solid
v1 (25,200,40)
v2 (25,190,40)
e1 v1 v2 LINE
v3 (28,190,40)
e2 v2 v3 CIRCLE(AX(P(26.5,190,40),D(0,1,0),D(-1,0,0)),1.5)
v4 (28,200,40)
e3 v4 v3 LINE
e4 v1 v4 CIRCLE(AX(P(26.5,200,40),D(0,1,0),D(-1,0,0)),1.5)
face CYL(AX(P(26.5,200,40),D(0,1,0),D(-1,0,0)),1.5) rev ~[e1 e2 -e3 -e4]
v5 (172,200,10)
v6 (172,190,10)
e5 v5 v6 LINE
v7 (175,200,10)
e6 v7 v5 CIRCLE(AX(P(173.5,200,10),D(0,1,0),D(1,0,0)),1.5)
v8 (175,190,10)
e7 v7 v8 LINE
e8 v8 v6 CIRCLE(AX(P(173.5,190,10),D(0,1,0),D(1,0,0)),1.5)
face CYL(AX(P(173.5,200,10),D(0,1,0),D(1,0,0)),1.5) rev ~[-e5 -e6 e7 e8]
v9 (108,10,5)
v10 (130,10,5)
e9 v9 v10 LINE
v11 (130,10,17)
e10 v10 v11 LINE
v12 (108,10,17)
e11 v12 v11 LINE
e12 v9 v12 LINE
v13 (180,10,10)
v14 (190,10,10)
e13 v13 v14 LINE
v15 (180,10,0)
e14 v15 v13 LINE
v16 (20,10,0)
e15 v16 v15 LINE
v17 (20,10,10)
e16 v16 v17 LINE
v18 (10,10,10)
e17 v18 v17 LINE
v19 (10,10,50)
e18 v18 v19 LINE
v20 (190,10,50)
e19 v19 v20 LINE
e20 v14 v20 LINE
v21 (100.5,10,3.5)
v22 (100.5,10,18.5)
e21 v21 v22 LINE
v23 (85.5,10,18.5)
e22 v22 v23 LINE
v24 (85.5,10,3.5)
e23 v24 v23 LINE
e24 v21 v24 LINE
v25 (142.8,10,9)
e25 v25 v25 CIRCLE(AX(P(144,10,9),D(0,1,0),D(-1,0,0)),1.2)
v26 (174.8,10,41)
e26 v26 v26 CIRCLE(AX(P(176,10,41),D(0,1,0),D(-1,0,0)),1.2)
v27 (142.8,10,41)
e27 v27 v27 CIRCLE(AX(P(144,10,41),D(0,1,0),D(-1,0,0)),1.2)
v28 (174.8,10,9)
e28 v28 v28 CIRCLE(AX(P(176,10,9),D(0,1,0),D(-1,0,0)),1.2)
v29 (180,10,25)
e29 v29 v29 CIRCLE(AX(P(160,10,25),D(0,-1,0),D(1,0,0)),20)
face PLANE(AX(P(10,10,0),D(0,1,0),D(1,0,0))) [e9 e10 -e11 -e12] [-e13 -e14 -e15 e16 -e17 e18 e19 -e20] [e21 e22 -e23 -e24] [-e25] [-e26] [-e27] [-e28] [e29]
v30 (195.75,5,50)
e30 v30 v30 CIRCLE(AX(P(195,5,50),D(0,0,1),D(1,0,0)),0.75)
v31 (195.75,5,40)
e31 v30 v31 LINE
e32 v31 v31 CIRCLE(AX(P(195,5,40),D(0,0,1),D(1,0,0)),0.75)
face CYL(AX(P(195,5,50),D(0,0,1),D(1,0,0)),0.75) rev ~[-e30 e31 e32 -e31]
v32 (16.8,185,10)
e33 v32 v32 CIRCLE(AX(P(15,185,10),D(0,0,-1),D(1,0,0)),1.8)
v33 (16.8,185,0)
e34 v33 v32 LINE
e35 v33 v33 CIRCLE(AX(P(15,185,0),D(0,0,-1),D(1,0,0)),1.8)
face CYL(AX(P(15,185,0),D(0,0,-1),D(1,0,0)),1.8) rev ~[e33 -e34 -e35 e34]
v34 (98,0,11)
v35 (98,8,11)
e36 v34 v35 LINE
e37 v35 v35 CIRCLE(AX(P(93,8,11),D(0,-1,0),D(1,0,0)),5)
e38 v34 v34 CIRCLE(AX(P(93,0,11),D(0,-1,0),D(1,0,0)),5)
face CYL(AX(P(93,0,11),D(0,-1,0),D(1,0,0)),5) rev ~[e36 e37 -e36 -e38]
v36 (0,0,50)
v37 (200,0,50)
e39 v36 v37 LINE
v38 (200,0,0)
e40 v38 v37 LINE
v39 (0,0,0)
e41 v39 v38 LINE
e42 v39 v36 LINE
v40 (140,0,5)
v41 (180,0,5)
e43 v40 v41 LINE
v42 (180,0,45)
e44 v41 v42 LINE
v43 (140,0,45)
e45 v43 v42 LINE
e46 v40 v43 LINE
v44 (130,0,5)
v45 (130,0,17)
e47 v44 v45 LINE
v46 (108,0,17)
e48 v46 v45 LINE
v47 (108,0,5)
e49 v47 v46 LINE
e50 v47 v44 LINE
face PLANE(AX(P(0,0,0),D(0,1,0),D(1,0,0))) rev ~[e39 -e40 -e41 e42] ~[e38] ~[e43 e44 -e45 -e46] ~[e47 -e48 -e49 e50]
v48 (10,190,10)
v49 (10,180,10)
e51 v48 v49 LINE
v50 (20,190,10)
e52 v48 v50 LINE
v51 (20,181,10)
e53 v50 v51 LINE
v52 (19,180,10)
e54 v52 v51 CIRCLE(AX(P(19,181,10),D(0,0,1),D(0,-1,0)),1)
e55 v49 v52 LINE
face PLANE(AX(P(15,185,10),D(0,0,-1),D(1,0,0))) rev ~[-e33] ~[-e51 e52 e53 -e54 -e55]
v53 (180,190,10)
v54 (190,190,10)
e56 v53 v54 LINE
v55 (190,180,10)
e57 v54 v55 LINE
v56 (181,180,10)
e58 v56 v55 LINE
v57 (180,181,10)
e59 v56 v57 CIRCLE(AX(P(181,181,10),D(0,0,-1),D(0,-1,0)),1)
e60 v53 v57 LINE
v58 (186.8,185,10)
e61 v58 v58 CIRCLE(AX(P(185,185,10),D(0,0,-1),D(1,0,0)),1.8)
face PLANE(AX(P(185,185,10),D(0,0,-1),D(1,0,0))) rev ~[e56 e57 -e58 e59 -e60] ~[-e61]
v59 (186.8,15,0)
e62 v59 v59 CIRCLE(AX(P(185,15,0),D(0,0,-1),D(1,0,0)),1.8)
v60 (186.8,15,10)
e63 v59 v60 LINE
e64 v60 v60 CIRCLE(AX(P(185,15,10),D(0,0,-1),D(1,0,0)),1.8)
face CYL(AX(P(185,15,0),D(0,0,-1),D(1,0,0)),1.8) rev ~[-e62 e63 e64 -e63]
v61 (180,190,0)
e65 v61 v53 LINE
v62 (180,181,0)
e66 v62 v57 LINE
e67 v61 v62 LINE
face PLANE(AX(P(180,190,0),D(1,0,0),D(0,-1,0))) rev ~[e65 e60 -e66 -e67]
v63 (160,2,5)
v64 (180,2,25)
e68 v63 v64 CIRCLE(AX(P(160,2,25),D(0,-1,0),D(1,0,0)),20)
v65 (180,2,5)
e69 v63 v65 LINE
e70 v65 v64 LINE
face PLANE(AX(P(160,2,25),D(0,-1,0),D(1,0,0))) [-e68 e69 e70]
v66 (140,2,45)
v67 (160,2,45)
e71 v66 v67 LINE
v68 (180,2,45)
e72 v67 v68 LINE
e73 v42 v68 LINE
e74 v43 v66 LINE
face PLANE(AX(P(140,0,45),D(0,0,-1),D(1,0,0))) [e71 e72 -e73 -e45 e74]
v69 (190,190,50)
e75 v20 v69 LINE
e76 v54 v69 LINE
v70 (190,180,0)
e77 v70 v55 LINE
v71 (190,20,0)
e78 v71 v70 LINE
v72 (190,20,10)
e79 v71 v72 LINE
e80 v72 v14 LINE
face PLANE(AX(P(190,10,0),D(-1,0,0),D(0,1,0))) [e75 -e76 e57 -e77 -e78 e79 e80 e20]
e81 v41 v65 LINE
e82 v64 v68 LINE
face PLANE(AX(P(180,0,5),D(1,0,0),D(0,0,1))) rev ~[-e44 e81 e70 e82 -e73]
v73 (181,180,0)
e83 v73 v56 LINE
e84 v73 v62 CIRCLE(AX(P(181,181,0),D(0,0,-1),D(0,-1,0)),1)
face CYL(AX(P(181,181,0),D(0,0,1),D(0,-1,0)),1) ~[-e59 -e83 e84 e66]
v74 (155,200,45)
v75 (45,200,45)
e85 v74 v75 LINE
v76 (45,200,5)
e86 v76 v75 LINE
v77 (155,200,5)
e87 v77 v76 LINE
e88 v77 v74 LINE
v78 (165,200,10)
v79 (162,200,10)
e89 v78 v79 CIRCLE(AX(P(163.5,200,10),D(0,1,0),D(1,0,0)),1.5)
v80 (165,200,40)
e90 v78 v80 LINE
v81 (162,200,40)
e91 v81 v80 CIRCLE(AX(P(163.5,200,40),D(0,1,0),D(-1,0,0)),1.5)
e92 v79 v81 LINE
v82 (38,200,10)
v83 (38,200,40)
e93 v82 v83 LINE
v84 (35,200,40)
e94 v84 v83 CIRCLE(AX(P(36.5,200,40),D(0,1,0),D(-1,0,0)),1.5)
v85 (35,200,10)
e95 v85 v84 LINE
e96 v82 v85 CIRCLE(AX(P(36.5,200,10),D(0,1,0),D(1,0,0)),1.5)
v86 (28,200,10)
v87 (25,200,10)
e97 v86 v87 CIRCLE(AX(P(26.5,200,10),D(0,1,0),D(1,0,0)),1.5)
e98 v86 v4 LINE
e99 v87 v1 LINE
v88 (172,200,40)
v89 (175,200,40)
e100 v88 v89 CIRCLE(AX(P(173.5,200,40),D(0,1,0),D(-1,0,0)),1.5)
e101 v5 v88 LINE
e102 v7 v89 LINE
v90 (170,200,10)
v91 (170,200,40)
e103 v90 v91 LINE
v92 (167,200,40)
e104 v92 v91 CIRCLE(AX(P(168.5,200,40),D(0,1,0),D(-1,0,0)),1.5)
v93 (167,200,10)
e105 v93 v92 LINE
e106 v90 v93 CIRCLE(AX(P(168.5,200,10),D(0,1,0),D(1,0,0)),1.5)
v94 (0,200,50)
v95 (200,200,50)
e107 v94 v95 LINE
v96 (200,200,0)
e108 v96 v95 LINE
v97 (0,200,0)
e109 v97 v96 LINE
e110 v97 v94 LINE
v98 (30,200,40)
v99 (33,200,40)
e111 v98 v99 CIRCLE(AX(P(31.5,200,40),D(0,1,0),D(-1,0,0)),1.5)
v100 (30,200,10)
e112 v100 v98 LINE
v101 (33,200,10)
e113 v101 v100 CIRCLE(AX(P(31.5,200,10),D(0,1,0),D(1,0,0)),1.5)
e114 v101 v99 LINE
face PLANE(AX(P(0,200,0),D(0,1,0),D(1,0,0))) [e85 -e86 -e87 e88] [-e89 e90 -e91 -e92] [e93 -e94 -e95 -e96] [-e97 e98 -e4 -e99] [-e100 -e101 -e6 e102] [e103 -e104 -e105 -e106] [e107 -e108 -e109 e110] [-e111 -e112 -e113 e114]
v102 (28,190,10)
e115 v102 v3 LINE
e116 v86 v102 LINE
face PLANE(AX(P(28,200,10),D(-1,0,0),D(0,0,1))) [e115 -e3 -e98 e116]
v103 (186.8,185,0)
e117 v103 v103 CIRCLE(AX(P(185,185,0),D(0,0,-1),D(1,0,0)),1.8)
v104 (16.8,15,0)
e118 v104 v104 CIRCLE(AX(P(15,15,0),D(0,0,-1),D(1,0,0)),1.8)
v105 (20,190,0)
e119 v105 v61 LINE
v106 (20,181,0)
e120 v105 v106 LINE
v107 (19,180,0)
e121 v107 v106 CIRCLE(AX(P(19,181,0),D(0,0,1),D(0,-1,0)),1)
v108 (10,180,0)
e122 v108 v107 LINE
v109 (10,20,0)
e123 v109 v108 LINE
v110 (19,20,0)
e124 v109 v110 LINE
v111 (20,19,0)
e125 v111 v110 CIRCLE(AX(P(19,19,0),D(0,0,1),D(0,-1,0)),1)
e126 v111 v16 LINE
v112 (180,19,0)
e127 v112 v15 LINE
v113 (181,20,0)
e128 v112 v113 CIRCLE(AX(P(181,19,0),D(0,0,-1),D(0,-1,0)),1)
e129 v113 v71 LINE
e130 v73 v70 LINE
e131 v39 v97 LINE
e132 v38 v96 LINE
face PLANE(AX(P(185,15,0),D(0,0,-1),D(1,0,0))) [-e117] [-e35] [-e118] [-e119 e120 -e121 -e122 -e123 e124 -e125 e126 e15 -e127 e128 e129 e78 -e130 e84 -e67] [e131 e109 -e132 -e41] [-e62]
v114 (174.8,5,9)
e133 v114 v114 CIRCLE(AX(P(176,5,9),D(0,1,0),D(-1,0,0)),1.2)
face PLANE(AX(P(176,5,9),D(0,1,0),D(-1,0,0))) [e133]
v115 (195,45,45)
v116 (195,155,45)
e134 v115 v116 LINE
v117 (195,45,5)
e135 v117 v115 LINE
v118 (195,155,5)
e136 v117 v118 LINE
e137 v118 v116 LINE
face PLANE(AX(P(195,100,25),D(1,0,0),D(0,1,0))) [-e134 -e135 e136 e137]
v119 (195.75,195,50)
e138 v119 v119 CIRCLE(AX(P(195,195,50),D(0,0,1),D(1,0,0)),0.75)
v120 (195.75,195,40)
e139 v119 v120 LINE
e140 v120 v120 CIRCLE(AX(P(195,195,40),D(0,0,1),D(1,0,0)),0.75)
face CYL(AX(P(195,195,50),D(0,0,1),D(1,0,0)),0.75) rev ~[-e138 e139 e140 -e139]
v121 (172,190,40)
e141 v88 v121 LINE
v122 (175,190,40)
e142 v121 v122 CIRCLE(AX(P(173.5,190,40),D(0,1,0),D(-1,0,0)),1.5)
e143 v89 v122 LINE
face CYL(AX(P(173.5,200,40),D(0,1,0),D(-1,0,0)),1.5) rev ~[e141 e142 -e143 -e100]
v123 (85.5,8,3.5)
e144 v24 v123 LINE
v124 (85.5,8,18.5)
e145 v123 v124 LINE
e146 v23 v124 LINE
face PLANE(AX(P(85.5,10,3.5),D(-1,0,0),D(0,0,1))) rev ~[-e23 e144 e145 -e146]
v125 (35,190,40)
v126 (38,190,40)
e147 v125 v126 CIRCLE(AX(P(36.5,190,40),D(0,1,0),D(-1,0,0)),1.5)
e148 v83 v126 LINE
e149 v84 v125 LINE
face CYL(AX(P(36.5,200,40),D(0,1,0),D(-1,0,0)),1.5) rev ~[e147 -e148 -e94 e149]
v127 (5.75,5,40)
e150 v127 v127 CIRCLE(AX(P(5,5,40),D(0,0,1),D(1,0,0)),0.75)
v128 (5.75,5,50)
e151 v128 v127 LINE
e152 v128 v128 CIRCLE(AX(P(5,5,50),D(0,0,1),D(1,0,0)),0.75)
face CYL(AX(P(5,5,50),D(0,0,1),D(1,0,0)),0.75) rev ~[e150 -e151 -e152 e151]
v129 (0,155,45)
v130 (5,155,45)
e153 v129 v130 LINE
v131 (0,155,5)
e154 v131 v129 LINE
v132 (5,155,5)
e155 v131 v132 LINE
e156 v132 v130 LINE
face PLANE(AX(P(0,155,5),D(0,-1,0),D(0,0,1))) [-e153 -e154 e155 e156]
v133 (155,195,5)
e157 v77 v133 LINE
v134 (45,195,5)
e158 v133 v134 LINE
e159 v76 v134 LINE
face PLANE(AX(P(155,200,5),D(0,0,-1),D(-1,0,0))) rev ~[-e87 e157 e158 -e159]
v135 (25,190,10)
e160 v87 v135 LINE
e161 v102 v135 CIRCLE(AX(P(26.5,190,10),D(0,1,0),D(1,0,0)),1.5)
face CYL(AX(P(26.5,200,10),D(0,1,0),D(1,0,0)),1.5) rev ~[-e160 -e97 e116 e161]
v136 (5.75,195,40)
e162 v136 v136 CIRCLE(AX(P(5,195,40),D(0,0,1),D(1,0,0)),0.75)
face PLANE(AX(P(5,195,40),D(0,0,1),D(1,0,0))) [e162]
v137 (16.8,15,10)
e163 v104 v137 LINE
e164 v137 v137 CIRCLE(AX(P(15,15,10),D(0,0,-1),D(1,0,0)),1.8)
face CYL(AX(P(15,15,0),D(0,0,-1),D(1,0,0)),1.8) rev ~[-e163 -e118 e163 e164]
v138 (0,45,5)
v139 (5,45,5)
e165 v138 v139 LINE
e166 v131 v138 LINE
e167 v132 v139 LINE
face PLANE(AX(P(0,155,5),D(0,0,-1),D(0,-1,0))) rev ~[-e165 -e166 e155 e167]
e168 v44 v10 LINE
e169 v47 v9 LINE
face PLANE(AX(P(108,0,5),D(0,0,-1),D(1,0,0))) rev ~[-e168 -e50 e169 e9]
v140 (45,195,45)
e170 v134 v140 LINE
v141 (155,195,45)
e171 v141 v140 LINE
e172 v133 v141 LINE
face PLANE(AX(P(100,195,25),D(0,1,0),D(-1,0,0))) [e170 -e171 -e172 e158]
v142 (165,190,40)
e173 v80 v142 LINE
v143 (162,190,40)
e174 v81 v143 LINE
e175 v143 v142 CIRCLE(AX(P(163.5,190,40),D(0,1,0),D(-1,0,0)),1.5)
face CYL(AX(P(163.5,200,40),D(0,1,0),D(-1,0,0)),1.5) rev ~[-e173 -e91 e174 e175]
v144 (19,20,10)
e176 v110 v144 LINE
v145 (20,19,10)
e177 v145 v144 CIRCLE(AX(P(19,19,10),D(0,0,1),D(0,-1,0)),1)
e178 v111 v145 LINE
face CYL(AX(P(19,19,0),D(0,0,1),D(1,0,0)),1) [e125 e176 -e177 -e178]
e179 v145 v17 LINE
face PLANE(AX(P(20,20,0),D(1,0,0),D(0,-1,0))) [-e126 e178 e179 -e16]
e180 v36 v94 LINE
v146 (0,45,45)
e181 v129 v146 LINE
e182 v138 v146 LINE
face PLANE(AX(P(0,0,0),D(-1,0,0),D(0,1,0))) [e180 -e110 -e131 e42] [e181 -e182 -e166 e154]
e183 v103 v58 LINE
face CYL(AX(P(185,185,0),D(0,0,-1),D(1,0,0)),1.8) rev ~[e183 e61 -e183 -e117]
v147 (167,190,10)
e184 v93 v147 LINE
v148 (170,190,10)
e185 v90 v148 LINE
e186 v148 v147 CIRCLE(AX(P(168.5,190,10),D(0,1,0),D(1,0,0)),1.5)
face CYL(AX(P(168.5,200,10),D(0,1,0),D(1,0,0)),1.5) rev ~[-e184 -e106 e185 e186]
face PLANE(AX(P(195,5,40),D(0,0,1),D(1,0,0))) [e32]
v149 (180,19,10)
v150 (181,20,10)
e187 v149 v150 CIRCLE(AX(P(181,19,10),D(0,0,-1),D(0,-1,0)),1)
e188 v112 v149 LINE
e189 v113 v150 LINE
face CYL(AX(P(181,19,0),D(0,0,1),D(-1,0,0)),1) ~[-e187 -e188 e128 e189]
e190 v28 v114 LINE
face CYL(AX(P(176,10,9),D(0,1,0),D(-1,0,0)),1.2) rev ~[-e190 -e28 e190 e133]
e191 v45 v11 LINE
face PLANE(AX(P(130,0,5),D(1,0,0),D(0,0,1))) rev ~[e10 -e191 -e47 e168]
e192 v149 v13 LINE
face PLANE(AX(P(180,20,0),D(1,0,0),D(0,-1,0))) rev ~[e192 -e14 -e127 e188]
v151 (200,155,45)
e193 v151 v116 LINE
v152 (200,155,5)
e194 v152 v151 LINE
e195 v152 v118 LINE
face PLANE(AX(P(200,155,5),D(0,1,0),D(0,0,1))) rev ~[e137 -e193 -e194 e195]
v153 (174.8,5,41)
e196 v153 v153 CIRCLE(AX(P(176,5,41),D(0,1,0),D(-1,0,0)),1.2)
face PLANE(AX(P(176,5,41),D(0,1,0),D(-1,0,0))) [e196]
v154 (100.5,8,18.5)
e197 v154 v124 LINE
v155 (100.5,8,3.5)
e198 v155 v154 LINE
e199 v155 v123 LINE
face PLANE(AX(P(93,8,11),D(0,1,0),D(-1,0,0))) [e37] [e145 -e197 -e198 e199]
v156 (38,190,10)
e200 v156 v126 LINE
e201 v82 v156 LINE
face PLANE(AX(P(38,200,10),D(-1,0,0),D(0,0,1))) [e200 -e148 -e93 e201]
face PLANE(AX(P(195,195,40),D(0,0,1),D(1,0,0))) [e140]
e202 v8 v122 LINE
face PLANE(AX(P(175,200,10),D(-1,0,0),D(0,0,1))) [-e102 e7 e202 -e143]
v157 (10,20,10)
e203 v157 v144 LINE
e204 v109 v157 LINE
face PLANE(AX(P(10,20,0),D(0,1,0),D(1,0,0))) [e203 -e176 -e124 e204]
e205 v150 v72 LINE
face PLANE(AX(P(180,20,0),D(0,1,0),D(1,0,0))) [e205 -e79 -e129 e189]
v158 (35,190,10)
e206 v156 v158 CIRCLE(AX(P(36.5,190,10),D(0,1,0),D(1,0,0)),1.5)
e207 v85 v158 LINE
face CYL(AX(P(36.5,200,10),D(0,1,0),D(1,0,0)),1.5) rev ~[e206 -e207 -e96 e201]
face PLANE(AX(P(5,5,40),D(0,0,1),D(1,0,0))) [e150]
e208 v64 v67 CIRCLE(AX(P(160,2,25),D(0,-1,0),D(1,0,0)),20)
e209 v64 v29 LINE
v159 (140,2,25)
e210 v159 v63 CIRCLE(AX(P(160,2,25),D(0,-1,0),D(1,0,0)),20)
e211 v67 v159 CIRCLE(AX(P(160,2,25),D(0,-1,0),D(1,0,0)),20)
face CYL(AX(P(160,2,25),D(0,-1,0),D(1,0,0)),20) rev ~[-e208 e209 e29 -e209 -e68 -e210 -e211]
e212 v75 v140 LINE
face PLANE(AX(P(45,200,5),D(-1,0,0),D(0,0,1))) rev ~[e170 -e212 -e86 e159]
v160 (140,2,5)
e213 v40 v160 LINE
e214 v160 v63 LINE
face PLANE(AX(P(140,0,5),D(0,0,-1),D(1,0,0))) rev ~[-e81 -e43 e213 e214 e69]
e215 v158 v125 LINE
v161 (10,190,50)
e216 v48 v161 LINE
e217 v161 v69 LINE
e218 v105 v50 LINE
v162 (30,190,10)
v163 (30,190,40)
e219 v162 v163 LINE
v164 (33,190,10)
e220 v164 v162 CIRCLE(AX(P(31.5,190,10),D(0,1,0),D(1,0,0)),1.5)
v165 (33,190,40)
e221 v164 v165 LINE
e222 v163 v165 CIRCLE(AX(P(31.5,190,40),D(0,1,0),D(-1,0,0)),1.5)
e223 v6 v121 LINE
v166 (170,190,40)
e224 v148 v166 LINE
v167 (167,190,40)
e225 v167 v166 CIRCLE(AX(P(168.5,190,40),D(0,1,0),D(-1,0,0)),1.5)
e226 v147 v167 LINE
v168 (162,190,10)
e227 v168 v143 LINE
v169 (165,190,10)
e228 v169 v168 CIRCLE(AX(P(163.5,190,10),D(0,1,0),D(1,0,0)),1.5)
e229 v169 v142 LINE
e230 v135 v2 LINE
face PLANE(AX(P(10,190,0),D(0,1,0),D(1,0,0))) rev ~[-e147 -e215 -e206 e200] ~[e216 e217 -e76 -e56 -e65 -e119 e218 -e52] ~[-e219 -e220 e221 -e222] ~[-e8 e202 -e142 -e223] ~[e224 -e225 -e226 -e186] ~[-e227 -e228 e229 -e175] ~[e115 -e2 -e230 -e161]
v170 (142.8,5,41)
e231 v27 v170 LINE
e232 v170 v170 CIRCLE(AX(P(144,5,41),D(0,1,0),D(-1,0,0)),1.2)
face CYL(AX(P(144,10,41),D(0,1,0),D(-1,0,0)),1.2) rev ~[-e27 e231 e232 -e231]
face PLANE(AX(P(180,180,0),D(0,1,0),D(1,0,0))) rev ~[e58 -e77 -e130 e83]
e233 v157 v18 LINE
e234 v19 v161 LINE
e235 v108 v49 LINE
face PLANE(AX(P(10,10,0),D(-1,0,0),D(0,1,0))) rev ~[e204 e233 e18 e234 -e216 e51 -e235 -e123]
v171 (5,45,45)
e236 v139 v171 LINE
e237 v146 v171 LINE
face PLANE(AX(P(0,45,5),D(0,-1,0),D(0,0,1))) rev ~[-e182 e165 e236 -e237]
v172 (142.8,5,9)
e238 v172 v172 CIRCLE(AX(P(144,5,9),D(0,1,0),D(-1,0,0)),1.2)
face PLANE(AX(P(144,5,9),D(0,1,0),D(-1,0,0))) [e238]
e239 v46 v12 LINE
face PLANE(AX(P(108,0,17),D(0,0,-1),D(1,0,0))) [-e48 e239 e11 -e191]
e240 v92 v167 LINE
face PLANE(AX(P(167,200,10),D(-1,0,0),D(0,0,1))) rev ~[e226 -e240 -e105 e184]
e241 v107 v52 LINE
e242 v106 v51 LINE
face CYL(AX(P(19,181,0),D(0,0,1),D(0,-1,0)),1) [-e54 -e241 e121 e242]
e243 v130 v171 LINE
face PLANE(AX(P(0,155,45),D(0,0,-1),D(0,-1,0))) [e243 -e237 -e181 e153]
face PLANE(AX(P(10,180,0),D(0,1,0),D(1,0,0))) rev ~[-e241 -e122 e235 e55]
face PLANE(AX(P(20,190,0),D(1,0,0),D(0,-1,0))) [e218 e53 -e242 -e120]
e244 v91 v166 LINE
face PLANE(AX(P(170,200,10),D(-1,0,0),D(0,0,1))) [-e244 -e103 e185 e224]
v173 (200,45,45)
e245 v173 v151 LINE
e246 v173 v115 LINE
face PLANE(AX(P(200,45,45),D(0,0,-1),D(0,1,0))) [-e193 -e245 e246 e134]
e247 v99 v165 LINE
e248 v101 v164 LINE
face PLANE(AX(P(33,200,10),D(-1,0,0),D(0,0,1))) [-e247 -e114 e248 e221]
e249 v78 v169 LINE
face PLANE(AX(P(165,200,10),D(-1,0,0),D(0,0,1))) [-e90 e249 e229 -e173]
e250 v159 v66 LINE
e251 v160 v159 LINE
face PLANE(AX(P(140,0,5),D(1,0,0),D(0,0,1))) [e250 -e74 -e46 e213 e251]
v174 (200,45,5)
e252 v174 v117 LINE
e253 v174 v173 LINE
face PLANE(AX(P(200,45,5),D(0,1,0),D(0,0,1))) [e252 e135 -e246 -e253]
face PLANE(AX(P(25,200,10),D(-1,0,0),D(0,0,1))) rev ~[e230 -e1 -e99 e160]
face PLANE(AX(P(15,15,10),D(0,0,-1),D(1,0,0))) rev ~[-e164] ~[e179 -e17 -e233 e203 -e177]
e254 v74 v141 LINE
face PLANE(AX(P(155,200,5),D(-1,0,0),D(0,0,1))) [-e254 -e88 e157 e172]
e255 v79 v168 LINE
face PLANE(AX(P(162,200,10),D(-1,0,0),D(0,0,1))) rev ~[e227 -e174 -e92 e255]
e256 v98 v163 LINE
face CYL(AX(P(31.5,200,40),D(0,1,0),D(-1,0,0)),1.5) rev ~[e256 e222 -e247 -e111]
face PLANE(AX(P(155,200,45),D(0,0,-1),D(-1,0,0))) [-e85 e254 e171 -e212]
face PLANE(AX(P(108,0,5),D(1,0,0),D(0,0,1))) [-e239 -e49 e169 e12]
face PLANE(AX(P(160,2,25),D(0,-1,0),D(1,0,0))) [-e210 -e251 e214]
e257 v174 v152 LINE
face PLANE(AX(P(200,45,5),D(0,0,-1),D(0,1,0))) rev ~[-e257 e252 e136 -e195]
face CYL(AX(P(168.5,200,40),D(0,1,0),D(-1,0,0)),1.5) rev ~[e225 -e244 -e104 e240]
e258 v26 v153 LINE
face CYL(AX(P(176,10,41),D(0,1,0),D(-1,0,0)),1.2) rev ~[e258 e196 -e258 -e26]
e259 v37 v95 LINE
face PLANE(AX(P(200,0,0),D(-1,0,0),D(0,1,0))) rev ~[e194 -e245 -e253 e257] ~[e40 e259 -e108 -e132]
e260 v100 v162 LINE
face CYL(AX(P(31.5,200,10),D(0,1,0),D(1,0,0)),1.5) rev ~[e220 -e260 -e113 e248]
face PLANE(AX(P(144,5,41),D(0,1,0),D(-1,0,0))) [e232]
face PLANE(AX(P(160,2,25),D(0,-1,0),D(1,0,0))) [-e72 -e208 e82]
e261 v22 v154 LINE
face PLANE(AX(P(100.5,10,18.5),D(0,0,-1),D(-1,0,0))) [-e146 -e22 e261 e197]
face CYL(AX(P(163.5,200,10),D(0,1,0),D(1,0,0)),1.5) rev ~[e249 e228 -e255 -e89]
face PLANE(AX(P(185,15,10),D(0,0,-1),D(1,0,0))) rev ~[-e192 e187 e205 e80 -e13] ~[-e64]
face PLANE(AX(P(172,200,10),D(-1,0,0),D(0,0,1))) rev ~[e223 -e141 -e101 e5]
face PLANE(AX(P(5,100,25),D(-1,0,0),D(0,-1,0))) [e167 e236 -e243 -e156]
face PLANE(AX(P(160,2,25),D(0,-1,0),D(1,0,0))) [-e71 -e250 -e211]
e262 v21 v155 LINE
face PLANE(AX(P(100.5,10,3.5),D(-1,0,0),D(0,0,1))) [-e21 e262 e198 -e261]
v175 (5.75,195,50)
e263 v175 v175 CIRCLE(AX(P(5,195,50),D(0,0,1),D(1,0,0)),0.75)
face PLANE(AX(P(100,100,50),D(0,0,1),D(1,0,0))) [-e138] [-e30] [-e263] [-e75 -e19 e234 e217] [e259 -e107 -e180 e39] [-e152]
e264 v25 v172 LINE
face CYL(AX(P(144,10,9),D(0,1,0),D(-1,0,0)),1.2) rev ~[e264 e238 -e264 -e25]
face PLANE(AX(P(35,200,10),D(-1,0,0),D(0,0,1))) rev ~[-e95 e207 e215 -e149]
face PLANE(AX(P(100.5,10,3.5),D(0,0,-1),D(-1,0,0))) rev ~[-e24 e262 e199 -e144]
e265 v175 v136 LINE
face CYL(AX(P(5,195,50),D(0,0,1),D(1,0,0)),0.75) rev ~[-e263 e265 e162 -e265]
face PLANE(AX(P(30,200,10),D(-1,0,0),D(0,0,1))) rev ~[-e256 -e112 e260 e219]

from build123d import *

# Parameters (mm, degrees)
SKETCH_W        = 200
SKETCH_H        = 200
SKETCH_W_2      = 180
SKETCH_H_2      = 180
PAD_DEPTH       = 50
SKETCH001_W     = 40
SKETCH001_H     = 40
POCKET_DEPTH    = 2
SKETCH002_R     = 20
POCKET001_DEPTH = 8
SKETCH003_W     = 22
SKETCH003_H     = 12
POCKET002_DEPTH = 10
SKETCH004_R     = 5
POCKET003_DEPTH = 10
SKETCH005_W     = 15
SKETCH005_H     = 15
POCKET004_DEPTH = 2
SKETCH006_R     = 0.75
POCKET005_DEPTH = 10
POCKET006_DEPTH = 10
SKETCH008_W     = 10
SKETCH008_H     = 10
SKETCH008_R     = 1.8
PAD001_DEPTH    = 10
FILLET_R        = 1
SKETCH009_R     = 1.2
POCKET007_DEPTH = 5
SKETCH010_W     = 110
SKETCH010_H     = 40
POCKET008_DEPTH = 5
SKETCH011_W     = 110
SKETCH011_H     = 40
POCKET009_DEPTH = 5
SKETCH012_W     = 110
SKETCH012_H     = 40
POCKET010_DEPTH = 5


with BuildPart() as part:
    # Sketch → Pad (new body)
    with BuildSketch(Plane.XY):
        with Locations((100, 100)):
            Rectangle(SKETCH_W, SKETCH_H)
        with Locations((100, 100)):
            Rectangle(SKETCH_W_2, SKETCH_H_2, mode=Mode.SUBTRACT)
    extrude(amount=PAD_DEPTH)

    # Sketch001 (on Face1 of Pad) → Pocket (cut)
    with BuildSketch(Plane.XZ):
        with Locations((160, 25)):
            Rectangle(SKETCH001_W, SKETCH001_H)
    extrude(amount=-POCKET_DEPTH, mode=Mode.SUBTRACT)

    # Sketch002 (on Face15 of Pocket) → Pocket001 (cut)
    with BuildSketch(Plane.XZ.offset(-2)):
        with Locations((160, 25)):
            Circle(SKETCH002_R)
    extrude(amount=-POCKET001_DEPTH, mode=Mode.SUBTRACT)

    # Sketch003 (on Face1 of Pocket001) → Pocket002 (cut)
    with BuildSketch(Plane.XZ):
        with Locations((119, 11)):
            Rectangle(SKETCH003_W, SKETCH003_H)
    extrude(amount=-POCKET002_DEPTH, mode=Mode.SUBTRACT)

    # Sketch004 (on Face1 of Pocket002) → Pocket003 (cut)
    with BuildSketch(Plane.XZ):
        with Locations((93, 11)):
            Circle(SKETCH004_R)
    extrude(amount=-POCKET003_DEPTH, mode=Mode.SUBTRACT)

    # Sketch005 (on Face16 of Pocket003) → Pocket004 (cut)
    with BuildSketch(Plane(origin=(0, 10, 0), x_dir=(-1, 0, 0), z_dir=(0, 1, 0))):
        with Locations((-93, 11)):
            Rectangle(SKETCH005_W, SKETCH005_H)
    extrude(amount=-POCKET004_DEPTH, mode=Mode.SUBTRACT)

    # Sketch006 (on Face4 of Pocket004) → Pocket005 (cut)
    with BuildSketch(Plane.XY.offset(50)):
        with Locations((5, 5)):
            Circle(SKETCH006_R)
        with Locations((195, 5)):
            Circle(SKETCH006_R)
        with Locations((195, 195)):
            Circle(SKETCH006_R)
        with Locations((5, 195)):
            Circle(SKETCH006_R)
    extrude(amount=-POCKET005_DEPTH, mode=Mode.SUBTRACT)

    # Sketch007 (on Face15 of Pocket005) → Pocket006 (cut)
    with BuildSketch(Plane(origin=(0, 200, 0), x_dir=(-1, 0, 0), z_dir=(0, 1, 0))):
        with BuildLine():
            ThreePointArc((-38, 10), (-36.5, 8.5), (-35, 10))
            Line((-35, 10), (-35, 40))
            ThreePointArc((-35, 40), (-36.5, 41.5), (-38, 40))
            Line((-38, 10), (-38, 40))
        make_face()
        with BuildLine():
            ThreePointArc((-33, 10), (-31.5, 8.5), (-30, 10))
            Line((-30, 10), (-30, 40))
            ThreePointArc((-30, 40), (-31.5, 41.5), (-33, 40))
            Line((-33, 10), (-33, 40))
        make_face()
        with BuildLine():
            ThreePointArc((-28, 10), (-26.5, 8.5), (-25, 10))
            Line((-25, 10), (-25, 40))
            ThreePointArc((-25, 40), (-26.5, 41.5), (-28, 40))
            Line((-28, 10), (-28, 40))
        make_face()
        with BuildLine():
            ThreePointArc((-165, 10), (-163.5, 8.5), (-162, 10))
            Line((-162, 10), (-162, 40))
            ThreePointArc((-162, 40), (-163.5, 41.5), (-165, 40))
            Line((-165, 10), (-165, 40))
        make_face()
        with BuildLine():
            ThreePointArc((-170, 10), (-168.5, 8.5), (-167, 10))
            Line((-167, 10), (-167, 40))
            ThreePointArc((-167, 40), (-168.5, 41.5), (-170, 40))
            Line((-170, 10), (-170, 40))
        make_face()
        with BuildLine():
            ThreePointArc((-175, 10), (-173.5, 8.5), (-172, 10))
            Line((-172, 10), (-172, 40))
            ThreePointArc((-172, 40), (-173.5, 41.5), (-175, 40))
            Line((-175, 10), (-175, 40))
        make_face()
    extrude(amount=-POCKET006_DEPTH, mode=Mode.SUBTRACT)

    # Sketch008 (on Face3 of Pocket006) → Pad001 (join)
    with BuildSketch(Plane(origin=(0, 0, 0), x_dir=(1, 0, 0), z_dir=(0, 0, -1))):
        with Locations((185, -15)):
            Rectangle(SKETCH008_W, SKETCH008_H)
        with Locations((185, -15)):
            Circle(SKETCH008_R, mode=Mode.SUBTRACT)
        with Locations((185, -185)):
            Rectangle(SKETCH008_W, SKETCH008_H)
        with Locations((185, -185)):
            Circle(SKETCH008_R, mode=Mode.SUBTRACT)
        with Locations((15, -15)):
            Rectangle(SKETCH008_W, SKETCH008_H)
        with Locations((15, -15)):
            Circle(SKETCH008_R, mode=Mode.SUBTRACT)
        with Locations((15, -185)):
            Rectangle(SKETCH008_W, SKETCH008_H)
        with Locations((15, -185)):
            Circle(SKETCH008_R, mode=Mode.SUBTRACT)
    extrude(amount=-PAD001_DEPTH)

    # Fillet
    fillet_edges = [part.edges().sort_by_distance(p)[0] for p in [
        (180, 20, 5),
        (20, 20, 5),
        (180, 180, 5),
        (20, 180, 5),
    ]]
    fillet(fillet_edges, radius=FILLET_R)

    # Sketch009 (on Face8 of Fillet) → Pocket007 (cut)
    with BuildSketch(Plane(origin=(0, 10, 0), x_dir=(-1, 0, 0), z_dir=(0, 1, 0))):
        with Locations((-144, 9)):
            Circle(SKETCH009_R)
        with Locations((-176, 41)):
            Circle(SKETCH009_R)
        with Locations((-176, 9)):
            Circle(SKETCH009_R)
        with Locations((-144, 41)):
            Circle(SKETCH009_R)
    extrude(amount=-POCKET007_DEPTH, mode=Mode.SUBTRACT)

    # Sketch010 (on Face22 of Pocket007) → Pocket008 (cut)
    with BuildSketch(Plane.YZ.offset(200)):
        with Locations((100, 25)):
            Rectangle(SKETCH010_W, SKETCH010_H)
    extrude(amount=-POCKET008_DEPTH, mode=Mode.SUBTRACT)

    # Sketch011 (on Face20 of Pocket008) → Pocket009 (cut)
    with BuildSketch(Plane(origin=(0, 0, 0), x_dir=(0, -1, 0), z_dir=(-1, 0, 0))):
        with Locations((-100, 25)):
            Rectangle(SKETCH011_W, SKETCH011_H)
    extrude(amount=-POCKET009_DEPTH, mode=Mode.SUBTRACT)

    # Sketch012 (on Face21 of Pocket009) → Pocket010 (cut)
    with BuildSketch(Plane(origin=(0, 200, 0), x_dir=(-1, 0, 0), z_dir=(0, 1, 0))):
        with Locations((-100, 25)):
            Rectangle(SKETCH012_W, SKETCH012_H)
    extrude(amount=-POCKET010_DEPTH, mode=Mode.SUBTRACT)


solid = part.part
